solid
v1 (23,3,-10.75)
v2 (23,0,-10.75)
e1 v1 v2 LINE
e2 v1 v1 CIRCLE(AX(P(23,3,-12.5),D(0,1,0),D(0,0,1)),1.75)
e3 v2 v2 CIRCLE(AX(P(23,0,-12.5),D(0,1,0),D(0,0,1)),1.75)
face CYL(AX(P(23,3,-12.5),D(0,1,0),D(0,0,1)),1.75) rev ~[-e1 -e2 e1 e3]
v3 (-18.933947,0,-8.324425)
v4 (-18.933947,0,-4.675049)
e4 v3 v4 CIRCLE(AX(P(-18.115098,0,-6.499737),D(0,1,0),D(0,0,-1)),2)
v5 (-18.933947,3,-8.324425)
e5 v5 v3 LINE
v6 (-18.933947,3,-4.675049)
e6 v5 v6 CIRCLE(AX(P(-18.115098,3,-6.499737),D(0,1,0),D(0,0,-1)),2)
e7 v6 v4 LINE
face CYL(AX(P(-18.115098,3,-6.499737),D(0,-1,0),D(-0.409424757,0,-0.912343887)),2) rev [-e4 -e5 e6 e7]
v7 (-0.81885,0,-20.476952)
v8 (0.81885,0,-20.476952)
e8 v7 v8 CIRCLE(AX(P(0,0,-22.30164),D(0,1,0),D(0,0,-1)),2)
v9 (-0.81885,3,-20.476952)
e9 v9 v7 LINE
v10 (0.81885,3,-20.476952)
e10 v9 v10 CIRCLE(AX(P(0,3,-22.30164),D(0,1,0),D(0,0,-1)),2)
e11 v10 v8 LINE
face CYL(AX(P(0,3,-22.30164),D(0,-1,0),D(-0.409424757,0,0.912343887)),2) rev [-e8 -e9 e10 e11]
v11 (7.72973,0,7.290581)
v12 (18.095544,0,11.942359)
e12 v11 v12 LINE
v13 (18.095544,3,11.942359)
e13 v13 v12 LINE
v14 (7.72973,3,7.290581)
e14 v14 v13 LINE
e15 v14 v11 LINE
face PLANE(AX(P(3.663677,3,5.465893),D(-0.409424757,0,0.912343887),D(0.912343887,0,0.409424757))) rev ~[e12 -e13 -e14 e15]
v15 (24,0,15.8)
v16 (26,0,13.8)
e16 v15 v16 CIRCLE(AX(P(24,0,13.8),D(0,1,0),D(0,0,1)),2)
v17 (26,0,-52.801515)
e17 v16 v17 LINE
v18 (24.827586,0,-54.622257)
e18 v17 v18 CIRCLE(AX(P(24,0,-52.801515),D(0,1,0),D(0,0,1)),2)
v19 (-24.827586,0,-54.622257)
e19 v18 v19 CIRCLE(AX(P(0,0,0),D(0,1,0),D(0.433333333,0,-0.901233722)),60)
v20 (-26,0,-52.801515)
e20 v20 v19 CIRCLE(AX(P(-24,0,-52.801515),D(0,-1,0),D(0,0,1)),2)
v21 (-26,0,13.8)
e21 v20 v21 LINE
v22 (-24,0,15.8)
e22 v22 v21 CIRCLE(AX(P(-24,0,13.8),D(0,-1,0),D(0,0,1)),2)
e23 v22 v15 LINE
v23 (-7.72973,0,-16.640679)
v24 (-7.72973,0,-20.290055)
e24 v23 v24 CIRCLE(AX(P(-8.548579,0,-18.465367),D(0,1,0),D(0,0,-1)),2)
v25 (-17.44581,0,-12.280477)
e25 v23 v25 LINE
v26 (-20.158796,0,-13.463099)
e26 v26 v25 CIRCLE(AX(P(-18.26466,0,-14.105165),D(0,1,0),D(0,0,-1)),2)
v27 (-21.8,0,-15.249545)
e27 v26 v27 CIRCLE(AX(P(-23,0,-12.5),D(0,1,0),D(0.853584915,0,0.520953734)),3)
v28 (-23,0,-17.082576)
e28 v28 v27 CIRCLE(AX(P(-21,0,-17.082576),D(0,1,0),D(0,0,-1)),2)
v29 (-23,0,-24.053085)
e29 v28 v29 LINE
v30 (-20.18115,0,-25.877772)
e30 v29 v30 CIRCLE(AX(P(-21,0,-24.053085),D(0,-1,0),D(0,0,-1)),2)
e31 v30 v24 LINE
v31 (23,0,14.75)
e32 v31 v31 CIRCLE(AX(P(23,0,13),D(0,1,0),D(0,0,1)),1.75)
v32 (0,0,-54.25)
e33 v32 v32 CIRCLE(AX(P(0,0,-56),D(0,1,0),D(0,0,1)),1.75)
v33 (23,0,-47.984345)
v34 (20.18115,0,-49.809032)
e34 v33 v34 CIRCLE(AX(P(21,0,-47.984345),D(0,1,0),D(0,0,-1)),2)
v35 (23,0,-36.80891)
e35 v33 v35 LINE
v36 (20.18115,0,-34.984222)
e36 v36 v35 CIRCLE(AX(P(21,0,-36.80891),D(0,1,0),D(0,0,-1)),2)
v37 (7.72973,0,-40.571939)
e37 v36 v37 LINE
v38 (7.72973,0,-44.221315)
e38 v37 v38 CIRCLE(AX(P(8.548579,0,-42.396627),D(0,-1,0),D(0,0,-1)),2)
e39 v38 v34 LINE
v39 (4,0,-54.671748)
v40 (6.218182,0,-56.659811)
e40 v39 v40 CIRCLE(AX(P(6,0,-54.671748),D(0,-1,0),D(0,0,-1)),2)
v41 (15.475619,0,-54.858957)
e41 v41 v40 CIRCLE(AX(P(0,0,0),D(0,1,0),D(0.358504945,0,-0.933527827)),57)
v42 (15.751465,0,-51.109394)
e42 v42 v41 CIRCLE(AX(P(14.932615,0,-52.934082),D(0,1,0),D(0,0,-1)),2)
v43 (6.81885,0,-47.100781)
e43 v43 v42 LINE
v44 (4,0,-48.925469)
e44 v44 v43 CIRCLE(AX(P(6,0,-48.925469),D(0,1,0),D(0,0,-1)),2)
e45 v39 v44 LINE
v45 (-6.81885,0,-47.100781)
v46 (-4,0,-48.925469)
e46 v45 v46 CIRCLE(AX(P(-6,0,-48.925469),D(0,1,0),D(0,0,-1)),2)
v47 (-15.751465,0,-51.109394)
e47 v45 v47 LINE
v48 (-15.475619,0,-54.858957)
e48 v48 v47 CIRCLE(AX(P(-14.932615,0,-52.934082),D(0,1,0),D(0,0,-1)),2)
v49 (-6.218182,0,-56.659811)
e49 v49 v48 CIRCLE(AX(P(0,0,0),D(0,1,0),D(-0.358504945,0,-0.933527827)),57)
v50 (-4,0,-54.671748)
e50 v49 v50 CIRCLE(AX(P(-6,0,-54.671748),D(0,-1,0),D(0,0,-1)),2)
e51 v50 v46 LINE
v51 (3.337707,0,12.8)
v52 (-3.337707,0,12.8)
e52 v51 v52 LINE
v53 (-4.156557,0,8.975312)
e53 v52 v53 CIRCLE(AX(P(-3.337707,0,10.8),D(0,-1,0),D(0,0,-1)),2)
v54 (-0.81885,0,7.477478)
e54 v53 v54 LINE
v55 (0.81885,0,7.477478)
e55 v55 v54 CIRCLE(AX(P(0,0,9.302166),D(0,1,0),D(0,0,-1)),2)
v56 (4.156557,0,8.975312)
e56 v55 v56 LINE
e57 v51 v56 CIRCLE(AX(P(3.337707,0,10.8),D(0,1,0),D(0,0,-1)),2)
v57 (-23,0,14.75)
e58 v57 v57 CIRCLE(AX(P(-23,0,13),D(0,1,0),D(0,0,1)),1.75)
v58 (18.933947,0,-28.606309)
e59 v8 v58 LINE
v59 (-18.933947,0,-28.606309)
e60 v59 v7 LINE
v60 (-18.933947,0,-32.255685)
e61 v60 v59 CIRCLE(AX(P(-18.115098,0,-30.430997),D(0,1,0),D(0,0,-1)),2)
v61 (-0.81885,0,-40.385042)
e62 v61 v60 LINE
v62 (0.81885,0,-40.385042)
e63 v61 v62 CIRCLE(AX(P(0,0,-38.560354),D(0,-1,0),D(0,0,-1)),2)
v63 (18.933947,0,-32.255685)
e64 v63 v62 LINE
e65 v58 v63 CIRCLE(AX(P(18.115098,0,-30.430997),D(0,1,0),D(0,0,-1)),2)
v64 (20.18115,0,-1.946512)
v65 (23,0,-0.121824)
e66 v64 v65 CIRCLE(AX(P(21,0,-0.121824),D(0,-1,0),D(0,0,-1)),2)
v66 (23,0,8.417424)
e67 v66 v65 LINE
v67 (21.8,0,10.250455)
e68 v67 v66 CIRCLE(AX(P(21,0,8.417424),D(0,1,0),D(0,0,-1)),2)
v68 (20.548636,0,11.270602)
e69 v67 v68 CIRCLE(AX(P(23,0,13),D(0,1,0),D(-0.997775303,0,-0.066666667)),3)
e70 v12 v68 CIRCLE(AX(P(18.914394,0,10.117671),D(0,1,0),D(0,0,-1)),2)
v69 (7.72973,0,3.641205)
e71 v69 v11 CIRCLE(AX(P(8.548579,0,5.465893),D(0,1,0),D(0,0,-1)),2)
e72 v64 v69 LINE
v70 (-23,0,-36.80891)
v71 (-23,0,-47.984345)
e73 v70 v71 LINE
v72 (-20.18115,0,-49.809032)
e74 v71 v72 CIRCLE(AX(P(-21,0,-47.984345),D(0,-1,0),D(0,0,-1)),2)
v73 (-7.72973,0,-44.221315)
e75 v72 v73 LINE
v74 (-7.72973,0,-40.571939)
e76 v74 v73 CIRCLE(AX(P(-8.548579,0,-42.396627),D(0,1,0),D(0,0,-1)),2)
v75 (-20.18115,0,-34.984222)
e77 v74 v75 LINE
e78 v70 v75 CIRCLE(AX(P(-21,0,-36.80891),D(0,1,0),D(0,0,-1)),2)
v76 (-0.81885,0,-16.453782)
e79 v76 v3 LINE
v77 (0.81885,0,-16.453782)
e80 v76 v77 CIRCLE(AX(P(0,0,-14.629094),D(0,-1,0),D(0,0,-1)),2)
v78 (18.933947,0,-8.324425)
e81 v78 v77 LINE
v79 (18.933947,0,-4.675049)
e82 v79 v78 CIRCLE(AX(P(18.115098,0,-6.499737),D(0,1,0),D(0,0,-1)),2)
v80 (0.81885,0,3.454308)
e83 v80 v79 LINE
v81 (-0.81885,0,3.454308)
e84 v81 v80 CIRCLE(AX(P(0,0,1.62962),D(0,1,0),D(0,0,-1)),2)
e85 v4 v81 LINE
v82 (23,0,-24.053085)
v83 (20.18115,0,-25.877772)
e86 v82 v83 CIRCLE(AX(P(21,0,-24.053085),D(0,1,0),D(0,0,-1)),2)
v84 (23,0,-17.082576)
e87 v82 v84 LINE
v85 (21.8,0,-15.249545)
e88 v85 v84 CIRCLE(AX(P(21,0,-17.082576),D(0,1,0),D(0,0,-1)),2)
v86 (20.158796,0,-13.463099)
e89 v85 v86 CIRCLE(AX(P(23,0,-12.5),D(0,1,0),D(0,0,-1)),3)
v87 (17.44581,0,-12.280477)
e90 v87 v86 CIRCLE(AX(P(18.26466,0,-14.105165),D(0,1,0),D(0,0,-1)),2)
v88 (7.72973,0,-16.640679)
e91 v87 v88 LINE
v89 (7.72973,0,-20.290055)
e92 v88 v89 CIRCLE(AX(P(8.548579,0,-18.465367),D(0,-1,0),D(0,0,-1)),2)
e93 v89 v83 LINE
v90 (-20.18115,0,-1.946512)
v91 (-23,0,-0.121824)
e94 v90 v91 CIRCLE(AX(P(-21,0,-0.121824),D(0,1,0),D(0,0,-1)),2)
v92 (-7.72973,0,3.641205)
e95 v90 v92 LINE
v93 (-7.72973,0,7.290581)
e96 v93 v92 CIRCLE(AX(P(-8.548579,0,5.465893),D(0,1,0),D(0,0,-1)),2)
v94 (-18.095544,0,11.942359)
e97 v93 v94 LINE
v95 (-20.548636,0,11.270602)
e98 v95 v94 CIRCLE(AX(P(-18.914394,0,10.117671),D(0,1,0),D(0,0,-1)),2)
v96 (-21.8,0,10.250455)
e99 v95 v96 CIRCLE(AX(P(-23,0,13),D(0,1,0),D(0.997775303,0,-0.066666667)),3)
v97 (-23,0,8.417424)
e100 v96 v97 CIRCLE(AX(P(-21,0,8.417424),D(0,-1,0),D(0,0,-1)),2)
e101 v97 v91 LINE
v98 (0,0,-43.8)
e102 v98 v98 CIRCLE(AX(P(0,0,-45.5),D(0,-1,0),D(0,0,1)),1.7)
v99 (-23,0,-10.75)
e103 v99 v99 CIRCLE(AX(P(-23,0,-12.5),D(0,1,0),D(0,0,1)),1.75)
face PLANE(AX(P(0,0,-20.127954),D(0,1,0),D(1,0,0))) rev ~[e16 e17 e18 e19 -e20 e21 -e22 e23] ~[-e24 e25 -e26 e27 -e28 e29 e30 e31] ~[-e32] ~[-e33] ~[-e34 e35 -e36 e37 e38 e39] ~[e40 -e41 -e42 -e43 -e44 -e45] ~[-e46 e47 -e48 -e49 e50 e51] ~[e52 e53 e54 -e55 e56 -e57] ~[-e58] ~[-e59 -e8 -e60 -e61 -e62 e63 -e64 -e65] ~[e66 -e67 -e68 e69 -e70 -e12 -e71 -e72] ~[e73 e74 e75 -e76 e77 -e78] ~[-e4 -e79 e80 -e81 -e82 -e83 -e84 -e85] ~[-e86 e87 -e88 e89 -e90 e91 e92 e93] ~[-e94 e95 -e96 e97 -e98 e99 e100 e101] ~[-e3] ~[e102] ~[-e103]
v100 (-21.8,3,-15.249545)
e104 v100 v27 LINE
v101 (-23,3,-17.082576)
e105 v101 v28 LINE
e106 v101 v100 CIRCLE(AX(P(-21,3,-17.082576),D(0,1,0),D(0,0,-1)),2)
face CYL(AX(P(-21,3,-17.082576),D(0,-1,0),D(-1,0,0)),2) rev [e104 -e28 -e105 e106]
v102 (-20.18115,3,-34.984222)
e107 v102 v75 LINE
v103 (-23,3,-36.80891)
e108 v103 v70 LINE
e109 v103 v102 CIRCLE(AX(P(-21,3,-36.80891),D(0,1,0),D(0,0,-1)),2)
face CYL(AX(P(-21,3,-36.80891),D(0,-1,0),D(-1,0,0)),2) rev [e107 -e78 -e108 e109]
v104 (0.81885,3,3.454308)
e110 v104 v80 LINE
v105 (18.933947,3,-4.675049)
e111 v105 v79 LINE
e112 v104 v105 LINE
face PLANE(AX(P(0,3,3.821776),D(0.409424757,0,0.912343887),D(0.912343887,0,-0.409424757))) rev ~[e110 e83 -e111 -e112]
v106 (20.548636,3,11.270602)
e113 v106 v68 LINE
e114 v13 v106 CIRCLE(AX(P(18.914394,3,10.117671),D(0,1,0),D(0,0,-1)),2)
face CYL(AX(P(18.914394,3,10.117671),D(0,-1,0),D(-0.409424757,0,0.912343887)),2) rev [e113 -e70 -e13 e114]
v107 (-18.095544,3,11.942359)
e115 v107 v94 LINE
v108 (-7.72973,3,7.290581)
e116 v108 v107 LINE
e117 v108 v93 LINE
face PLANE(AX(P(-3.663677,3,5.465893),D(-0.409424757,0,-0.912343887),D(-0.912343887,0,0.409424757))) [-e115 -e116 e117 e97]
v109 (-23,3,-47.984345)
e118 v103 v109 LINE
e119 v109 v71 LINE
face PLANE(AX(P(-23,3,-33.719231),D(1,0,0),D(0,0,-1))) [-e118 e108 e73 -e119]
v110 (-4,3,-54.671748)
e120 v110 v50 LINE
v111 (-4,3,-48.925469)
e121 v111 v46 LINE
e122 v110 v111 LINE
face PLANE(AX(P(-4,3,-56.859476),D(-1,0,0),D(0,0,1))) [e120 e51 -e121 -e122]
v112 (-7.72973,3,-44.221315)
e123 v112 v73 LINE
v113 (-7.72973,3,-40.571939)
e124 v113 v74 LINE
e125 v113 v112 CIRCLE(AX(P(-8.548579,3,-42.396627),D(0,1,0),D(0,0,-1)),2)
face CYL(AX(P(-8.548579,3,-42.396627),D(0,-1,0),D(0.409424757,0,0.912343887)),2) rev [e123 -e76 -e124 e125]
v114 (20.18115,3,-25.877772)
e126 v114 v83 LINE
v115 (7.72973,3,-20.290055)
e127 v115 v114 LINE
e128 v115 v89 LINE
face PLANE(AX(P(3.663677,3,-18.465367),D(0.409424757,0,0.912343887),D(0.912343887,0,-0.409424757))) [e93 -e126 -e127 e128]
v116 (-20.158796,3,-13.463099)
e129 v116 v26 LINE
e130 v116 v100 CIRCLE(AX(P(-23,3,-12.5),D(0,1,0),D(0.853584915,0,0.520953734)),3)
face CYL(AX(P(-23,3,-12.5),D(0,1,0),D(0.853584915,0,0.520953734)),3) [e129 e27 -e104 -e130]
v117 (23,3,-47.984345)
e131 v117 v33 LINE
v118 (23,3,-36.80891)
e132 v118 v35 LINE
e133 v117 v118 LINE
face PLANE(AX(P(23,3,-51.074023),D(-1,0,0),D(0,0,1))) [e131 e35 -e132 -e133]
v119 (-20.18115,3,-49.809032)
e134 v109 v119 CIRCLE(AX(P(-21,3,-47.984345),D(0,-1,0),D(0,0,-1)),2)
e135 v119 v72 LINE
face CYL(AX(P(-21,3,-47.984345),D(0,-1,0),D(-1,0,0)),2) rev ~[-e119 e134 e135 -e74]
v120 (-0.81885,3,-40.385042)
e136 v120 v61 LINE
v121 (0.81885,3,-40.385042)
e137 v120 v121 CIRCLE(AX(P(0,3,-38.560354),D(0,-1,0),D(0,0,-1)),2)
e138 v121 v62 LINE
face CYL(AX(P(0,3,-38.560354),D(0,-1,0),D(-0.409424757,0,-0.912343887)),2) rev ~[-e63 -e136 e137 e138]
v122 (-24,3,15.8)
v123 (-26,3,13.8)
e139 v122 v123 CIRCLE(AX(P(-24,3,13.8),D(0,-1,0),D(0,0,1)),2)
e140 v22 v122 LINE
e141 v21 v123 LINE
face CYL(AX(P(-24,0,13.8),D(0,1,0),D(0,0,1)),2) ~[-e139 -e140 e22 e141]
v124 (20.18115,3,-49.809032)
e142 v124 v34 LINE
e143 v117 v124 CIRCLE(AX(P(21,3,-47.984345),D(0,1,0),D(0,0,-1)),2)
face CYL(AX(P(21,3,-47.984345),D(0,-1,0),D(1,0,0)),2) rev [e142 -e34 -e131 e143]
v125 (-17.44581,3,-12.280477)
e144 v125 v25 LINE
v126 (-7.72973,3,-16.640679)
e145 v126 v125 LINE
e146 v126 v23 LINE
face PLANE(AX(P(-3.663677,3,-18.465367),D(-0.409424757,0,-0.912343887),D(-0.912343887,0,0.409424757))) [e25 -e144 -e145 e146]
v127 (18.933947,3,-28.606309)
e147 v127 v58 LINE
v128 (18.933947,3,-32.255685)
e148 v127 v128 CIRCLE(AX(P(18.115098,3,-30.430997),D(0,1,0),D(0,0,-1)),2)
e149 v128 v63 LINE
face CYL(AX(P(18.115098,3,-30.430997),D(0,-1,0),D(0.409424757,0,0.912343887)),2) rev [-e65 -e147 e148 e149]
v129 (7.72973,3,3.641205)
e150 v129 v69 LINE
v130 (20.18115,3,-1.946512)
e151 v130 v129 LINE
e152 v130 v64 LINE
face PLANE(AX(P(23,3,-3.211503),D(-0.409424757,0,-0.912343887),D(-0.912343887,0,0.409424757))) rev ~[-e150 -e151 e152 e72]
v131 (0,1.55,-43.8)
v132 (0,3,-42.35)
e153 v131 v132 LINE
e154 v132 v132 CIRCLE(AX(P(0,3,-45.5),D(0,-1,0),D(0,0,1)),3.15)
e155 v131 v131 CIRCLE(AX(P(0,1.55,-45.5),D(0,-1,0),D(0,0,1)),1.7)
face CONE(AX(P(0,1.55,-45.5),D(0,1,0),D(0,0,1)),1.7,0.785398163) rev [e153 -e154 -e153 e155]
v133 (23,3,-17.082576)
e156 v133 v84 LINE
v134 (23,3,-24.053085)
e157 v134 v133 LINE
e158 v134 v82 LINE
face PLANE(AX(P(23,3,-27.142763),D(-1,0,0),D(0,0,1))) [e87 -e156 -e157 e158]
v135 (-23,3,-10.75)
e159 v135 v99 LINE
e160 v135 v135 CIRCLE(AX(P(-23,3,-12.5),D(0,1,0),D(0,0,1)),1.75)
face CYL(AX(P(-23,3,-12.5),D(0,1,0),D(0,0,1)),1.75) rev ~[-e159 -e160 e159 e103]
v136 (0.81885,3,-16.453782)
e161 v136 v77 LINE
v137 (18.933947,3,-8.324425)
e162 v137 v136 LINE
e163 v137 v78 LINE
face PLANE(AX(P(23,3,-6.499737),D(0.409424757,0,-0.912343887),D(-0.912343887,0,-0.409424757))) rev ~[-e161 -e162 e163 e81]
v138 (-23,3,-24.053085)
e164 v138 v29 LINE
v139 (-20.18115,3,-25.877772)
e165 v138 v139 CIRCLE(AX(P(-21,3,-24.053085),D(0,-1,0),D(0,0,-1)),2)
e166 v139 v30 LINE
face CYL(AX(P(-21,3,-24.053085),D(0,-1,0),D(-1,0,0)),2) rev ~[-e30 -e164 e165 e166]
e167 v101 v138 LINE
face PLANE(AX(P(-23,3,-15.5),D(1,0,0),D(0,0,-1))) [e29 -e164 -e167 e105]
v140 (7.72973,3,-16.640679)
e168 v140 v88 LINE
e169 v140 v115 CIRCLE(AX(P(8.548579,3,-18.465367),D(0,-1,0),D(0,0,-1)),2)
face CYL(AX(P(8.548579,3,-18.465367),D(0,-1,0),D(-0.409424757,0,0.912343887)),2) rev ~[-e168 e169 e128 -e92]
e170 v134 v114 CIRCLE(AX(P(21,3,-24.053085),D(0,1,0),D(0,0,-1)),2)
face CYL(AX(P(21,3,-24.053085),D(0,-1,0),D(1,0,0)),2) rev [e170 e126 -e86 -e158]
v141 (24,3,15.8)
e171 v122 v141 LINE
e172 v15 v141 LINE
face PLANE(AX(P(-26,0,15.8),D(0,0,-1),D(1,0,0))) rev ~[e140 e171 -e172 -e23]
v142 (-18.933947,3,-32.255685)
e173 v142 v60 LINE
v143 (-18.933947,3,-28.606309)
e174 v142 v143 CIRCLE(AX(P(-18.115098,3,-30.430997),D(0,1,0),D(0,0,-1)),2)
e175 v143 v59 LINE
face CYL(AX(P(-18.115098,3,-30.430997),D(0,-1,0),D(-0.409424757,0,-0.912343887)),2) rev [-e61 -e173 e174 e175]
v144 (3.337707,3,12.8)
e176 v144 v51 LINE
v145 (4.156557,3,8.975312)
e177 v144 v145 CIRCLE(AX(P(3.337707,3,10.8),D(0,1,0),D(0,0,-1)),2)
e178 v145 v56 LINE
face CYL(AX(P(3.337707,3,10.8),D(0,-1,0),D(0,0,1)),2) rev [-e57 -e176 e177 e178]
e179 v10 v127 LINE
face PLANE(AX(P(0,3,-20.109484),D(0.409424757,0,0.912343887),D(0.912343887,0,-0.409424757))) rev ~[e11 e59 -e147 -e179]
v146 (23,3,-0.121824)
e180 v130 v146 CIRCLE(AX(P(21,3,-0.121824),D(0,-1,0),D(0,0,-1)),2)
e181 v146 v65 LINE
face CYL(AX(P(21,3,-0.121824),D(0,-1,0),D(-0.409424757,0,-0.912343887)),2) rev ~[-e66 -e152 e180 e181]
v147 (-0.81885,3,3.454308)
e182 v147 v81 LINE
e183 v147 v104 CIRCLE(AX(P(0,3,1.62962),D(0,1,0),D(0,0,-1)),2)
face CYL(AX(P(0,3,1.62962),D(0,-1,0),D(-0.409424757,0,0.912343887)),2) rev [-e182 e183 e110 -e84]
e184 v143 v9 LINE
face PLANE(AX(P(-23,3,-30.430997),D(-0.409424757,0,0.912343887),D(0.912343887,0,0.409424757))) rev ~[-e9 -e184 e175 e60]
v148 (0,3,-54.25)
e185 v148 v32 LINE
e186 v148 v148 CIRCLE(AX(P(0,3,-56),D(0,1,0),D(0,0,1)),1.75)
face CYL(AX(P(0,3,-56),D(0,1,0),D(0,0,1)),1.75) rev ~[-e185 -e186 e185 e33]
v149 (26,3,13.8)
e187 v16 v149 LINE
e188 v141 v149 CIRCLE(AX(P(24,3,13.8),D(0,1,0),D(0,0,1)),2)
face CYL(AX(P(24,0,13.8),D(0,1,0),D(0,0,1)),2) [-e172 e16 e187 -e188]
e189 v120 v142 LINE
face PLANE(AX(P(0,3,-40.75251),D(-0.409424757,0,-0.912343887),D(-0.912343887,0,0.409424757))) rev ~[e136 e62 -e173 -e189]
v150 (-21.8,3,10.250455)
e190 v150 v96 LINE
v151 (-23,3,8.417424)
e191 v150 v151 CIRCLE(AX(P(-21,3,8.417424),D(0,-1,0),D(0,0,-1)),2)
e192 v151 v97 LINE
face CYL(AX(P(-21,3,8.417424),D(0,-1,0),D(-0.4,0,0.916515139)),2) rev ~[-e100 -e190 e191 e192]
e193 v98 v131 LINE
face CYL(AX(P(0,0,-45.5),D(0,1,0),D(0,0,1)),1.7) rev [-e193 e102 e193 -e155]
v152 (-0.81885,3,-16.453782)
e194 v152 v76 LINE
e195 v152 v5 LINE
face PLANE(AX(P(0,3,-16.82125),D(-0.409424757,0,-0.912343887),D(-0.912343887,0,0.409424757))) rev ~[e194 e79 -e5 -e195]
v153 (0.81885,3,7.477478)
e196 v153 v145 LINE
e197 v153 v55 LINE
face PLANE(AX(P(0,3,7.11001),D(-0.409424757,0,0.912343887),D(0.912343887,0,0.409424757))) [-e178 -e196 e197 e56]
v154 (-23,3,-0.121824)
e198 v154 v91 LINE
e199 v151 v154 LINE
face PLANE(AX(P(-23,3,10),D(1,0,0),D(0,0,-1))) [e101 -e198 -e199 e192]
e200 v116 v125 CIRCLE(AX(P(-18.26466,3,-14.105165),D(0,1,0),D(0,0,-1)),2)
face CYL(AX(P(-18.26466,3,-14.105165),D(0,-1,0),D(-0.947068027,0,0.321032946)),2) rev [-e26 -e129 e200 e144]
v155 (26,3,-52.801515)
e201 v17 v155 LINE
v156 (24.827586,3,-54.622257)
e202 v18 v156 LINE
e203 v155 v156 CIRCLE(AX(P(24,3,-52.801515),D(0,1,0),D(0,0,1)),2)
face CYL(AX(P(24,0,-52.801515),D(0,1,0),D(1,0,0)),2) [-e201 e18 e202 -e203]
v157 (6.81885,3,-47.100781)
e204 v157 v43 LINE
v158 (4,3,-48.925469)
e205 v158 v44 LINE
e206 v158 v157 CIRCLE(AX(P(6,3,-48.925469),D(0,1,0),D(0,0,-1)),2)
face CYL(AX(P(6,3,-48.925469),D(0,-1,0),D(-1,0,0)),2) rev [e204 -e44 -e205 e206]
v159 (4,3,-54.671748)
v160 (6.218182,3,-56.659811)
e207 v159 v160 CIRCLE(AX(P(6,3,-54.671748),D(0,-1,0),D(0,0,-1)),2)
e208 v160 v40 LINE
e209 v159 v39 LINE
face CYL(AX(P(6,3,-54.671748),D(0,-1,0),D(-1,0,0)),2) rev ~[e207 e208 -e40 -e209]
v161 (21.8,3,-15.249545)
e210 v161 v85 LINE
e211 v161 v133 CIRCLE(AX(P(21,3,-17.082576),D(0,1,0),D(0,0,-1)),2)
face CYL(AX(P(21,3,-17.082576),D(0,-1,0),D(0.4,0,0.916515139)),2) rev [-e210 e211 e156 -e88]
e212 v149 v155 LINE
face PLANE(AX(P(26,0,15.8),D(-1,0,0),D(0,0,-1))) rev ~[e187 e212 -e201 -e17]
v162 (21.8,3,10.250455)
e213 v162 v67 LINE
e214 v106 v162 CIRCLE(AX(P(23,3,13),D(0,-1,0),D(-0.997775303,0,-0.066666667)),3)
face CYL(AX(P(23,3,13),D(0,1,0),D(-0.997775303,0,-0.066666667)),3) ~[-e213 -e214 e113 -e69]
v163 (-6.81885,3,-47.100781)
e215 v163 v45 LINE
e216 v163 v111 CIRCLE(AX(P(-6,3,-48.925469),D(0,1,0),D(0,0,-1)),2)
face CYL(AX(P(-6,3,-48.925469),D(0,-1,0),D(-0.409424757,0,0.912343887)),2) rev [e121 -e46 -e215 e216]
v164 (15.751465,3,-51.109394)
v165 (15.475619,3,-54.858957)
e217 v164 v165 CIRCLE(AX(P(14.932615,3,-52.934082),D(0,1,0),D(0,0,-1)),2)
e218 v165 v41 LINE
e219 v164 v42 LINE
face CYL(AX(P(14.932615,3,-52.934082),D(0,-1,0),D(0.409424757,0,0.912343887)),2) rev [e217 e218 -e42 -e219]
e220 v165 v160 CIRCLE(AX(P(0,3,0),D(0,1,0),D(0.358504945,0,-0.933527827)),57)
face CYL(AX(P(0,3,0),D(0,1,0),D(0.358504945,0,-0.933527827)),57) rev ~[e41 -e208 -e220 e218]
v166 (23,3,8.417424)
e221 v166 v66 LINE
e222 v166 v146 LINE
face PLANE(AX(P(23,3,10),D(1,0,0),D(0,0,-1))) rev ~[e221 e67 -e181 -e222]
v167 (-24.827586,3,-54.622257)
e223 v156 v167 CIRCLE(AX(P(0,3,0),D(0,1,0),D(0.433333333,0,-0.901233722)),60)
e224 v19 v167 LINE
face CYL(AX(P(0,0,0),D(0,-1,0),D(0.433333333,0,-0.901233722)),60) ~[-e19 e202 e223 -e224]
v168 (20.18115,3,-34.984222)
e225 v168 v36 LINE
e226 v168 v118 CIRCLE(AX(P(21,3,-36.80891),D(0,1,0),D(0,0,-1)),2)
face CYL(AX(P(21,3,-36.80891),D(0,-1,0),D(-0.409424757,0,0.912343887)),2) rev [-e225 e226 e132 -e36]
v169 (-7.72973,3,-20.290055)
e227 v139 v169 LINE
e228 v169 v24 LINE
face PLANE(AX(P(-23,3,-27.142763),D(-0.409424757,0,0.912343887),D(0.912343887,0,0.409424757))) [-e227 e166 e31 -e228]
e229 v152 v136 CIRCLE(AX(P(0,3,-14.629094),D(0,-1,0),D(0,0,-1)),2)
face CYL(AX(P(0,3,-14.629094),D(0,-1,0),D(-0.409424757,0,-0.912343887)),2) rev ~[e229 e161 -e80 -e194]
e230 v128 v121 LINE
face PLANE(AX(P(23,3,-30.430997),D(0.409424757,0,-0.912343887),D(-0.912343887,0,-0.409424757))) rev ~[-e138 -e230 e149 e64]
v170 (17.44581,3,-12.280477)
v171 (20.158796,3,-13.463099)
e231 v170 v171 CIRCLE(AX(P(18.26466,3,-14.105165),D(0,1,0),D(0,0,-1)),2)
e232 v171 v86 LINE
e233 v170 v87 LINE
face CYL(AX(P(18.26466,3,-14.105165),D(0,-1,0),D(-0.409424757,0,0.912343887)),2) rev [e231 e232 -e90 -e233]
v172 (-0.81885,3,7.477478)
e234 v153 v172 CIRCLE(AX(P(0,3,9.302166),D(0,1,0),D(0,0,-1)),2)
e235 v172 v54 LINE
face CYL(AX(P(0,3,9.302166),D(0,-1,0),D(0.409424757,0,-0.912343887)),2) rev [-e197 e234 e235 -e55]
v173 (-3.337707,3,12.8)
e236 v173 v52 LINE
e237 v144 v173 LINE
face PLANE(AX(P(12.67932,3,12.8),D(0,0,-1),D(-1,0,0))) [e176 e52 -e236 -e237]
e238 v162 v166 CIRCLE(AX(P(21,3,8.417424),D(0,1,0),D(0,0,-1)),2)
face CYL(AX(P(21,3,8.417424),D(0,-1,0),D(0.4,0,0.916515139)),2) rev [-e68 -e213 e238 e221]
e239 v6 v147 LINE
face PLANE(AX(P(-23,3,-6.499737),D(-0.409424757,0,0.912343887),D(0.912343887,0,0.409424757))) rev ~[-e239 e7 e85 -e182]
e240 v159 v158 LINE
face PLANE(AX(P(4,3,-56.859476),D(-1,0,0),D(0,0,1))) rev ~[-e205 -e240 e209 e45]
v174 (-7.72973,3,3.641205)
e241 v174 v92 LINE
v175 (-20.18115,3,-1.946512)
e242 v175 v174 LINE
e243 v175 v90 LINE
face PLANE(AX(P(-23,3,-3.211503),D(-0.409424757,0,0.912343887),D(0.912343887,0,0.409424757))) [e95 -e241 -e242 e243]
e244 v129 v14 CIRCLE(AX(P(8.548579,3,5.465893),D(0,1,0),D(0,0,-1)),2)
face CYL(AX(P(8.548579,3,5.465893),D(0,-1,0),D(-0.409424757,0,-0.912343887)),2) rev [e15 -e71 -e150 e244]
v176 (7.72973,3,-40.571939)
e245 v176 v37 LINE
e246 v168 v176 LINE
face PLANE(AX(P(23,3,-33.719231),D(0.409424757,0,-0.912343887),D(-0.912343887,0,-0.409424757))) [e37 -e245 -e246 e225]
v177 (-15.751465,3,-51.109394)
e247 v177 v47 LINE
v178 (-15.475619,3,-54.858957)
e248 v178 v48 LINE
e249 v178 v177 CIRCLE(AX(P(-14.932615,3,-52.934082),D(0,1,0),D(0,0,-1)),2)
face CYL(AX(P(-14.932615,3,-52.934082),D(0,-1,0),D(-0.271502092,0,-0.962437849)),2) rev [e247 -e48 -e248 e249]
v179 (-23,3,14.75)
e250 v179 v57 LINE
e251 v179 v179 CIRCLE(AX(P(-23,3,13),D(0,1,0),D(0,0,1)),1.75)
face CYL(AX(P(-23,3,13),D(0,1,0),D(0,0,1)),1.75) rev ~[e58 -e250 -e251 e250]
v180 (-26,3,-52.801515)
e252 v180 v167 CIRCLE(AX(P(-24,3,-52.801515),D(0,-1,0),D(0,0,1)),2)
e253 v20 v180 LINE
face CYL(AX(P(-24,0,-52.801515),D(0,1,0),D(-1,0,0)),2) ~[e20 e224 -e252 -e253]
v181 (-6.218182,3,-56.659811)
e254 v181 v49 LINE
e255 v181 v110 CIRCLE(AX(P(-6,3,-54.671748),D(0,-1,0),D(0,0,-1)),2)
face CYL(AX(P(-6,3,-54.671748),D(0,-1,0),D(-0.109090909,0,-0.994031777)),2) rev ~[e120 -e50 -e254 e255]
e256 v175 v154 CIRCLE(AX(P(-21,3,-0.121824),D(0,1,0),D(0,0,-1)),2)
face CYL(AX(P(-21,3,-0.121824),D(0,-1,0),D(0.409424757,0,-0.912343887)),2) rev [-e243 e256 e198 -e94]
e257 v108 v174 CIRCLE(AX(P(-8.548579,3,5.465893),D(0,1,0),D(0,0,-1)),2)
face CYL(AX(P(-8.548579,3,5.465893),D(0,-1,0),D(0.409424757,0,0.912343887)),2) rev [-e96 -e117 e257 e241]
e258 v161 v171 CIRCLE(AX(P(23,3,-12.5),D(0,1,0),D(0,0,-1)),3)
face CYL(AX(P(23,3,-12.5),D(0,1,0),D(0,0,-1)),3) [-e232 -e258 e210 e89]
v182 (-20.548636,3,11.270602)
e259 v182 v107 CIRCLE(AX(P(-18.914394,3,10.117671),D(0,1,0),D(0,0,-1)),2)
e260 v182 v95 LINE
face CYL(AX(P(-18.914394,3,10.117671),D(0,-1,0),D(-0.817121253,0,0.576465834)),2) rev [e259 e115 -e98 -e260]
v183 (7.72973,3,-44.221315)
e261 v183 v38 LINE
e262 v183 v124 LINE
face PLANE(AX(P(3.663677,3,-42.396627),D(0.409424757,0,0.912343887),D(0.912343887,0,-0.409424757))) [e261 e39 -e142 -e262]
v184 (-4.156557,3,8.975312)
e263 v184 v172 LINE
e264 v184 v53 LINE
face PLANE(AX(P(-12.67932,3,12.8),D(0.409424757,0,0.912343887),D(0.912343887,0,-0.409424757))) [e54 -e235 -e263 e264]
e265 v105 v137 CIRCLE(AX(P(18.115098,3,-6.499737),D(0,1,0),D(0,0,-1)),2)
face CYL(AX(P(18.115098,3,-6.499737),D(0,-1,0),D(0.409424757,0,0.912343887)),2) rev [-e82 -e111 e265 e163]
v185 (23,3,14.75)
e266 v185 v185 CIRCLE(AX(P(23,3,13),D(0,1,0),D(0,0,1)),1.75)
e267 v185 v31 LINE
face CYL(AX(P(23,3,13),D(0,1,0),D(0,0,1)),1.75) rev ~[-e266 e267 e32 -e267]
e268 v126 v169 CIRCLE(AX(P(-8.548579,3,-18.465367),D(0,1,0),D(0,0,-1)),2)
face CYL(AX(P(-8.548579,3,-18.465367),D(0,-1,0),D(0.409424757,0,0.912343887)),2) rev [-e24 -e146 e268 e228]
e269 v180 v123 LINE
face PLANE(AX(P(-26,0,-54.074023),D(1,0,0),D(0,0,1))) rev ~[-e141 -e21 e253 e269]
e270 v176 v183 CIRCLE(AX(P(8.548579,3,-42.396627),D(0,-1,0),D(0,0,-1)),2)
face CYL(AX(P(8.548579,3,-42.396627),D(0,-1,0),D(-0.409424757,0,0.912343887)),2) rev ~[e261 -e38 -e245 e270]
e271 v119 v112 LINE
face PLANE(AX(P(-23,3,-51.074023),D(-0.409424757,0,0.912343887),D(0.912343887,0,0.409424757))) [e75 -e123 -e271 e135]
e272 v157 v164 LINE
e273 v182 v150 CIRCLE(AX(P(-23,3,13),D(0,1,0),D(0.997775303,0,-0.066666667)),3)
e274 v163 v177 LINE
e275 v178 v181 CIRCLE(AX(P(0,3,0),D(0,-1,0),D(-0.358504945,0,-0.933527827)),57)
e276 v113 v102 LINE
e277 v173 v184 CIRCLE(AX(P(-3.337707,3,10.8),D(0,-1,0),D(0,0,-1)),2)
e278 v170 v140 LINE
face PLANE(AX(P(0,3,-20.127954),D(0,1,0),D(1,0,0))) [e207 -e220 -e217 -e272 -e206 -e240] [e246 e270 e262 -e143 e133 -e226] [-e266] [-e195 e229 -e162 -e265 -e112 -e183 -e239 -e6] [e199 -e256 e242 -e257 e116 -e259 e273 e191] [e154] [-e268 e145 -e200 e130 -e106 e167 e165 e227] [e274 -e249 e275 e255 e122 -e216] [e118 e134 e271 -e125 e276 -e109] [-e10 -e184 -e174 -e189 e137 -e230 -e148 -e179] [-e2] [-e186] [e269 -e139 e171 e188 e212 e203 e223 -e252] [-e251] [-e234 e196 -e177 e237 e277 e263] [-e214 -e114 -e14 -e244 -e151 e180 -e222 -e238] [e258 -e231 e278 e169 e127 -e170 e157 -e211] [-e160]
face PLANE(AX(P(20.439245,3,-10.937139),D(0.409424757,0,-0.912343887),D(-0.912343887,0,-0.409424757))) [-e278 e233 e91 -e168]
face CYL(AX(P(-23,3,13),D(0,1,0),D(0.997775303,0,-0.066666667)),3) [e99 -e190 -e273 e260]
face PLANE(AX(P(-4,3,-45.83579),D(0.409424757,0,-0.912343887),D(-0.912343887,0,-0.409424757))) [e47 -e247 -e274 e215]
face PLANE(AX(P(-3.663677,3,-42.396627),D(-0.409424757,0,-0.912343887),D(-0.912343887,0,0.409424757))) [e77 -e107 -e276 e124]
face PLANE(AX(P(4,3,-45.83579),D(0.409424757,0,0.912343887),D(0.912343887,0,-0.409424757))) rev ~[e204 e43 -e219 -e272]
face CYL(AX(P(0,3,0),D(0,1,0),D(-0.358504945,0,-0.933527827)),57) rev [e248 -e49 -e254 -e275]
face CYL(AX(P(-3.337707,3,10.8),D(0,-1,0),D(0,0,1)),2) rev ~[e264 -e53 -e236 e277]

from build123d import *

# Parameters (mm, degrees)
BOSS_EXTRUDE1_DEPTH = 3
SKETCH2_R           = 1.75
CUT_EXTRUDE1_DEPTH  = 66.459911396
SKETCH3_R           = 1.75
CUT_EXTRUDE2_DEPTH  = 66.459911396
CUT_EXTRUDE3_DEPTH  = 66.459911396
FILLET1_R           = 2


with BuildPart() as part:
    # Sketch1 → Boss-Extrude1 (new body)
    with BuildSketch(Plane(origin=(0, 0, 0), x_dir=(1, 0, 0), z_dir=(0, 1, 0))):
        with BuildLine():
            Line((-26, -15.8), (26, -15.8))
            Line((26, -15.8), (26, 54.074023338))
            ThreePointArc((26, 54.074023338), (0, 60), (-26, 54.074023338))
            Line((-26, 54.074023338), (-26, -15.8))
        make_face()
    extrude(amount=BOSS_EXTRUDE1_DEPTH)

    # Sketch2 → Cut-Extrude1 (cut, through all)
    with BuildSketch(Plane(origin=(0, 3, 0), x_dir=(1, 0, 0), z_dir=(0, 1, 0))):
        with Locations(Location((-23, -13, 0), (0, 0, 270))):
            Circle(SKETCH2_R)
        with Locations(Location((-23, 12.5, 0), (0, 0, 270))):
            Circle(SKETCH2_R)
        with Locations(Location((23, -13, 0), (0, 0, 270))):
            Circle(SKETCH2_R)
        with Locations(Location((23, 12.5, 0), (0, 0, 270))):
            Circle(SKETCH2_R)
    extrude(amount=-CUT_EXTRUDE1_DEPTH, mode=Mode.SUBTRACT)

    # Sketch3 → Cut-Extrude2 (cut, through all)
    with BuildSketch(Plane(origin=(0, 3, 0), x_dir=(1, 0, 0), z_dir=(0, 1, 0))):
        with Locations(Location((0, 56, 0), (0, 0, 270))):
            Circle(SKETCH3_R)
    extrude(amount=-CUT_EXTRUDE2_DEPTH, mode=Mode.SUBTRACT)

    # Sketch4 → Cut-Extrude3 (cut, through all)
    with BuildSketch(Plane(origin=(0, 3, 0), x_dir=(1, 0, 0), z_dir=(0, 1, 0))):
        with BuildLine():
            Line((-4, 56.859475903), (-4, 45.835789761))
            Line((-4, 45.835789761), (-20.43478188, 53.211086152))
            ThreePointArc((-20.43478188, 53.211086152), (-12.352826734, 55.645374216), (-4, 56.859475903))
        make_face()
        with BuildLine():
            Line((4, 56.859475903), (4, 45.835789761))
            Line((4, 45.835789761), (20.43478188, 53.211086152))
            ThreePointArc((20.43478188, 53.211086152), (12.352826734, 55.645374216), (4, 56.859475903))
        make_face()
        Polygon((-23, 51.074023338), (-3.66367684, 42.396627103), (-23, 33.719230867), align=None)
        Polygon((3.66367684, 42.396627103), (23, 51.074023338), (23, 33.719230867), align=None)
        Polygon((0, 40.752510206), (-23, 30.430997074), (0, 20.109483942), (23, 30.430997074), align=None)
        with BuildLine():
            Line((-23, 27.142763282), (-3.66367684, 18.465367046))
            Line((-3.66367684, 18.465367046), (-20.439245255, 10.937138798))
            ThreePointArc((-20.439245255, 10.937138798), (-20.383840257, 13.968233019), (-23, 15.5))
            Line((-23, 15.5), (-23, 27.142763282))
        make_face()
        with BuildLine():
            Line((3.66367684, 18.465367046), (23, 27.142763282))
            Line((23, 27.142763282), (23, 15.5))
            ThreePointArc((23, 15.5), (20.383840257, 13.968233019), (20.439245255, 10.937138798))
            Line((20.439245255, 10.937138798), (3.66367684, 18.465367046))
        make_face()
        Polygon((0, 16.821250149), (-23, 6.499737017), (0, -3.821776115), (23, 6.499737017), align=None)
        with BuildLine():
            Line((23, 3.211503225), (3.66367684, -5.465893011))
            Line((3.66367684, -5.465893011), (20.006674091, -12.8))
            ThreePointArc((20.006674091, -12.8), (20.950609847, -10.80910977), (23, -10))
            Line((23, -10), (23, 3.211503225))
        make_face()
        with BuildLine():
            Line((-23, -10), (-23, 3.211503225))
            Line((-23, 3.211503225), (-3.66367684, -5.465893011))
            Line((-3.66367684, -5.465893011), (-20.006674091, -12.8))
            ThreePointArc((-20.006674091, -12.8), (-20.950609847, -10.80910977), (-23, -10))
        make_face()
        Polygon((-12.679320411, -12.8), (0, -7.110009907), (12.679320411, -12.8), align=None)
    extrude(amount=-CUT_EXTRUDE3_DEPTH, mode=Mode.SUBTRACT)

    # Fillet1
    fillet1_edges = [part.edges().sort_by_distance(p)[0] for p in [
        (20.439245255, 1.5, -10.937138798),
        (3.66367684, 1.5, -18.465367046),
        (23, 1.5, -27.142763282),
        (23, 1.5, -15.5),
        (0, 1.5, -16.821250149),
        (23, 1.5, -6.499737017),
        (0, 1.5, 3.821776115),
        (-23, 1.5, -6.499737017),
        (23, 1.5, -3.211503225),
        (23, 1.5, 10),
        (20.006674091, 1.5, 12.8),
        (3.66367684, 1.5, 5.465893011),
        (-20.006674091, 1.5, 12.8),
        (-23, 1.5, 10),
        (-23, 1.5, -3.211503225),
        (-3.66367684, 1.5, 5.465893011),
        (12.679320411, 1.5, 12.8),
        (-12.679320411, 1.5, 12.8),
        (0, 1.5, 7.110009907),
        (4, 1.5, -56.859475903),
        (20.43478188, 1.5, -53.211086152),
        (4, 1.5, -45.835789761),
        (-20.43478188, 1.5, -53.211086152),
        (-4, 1.5, -56.859475903),
        (-4, 1.5, -45.835789761),
        (-23, 1.5, -33.719230867),
        (-23, 1.5, -51.074023338),
        (-3.66367684, 1.5, -42.396627103),
        (23, 1.5, -33.719230867),
        (3.66367684, 1.5, -42.396627103),
        (23, 1.5, -51.074023338),
        (-26, 1.5, -54.074023338),
        (26, 1.5, -54.074023338),
        (26, 1.5, 15.8),
        (-26, 1.5, 15.8),
        (0, 1.5, -40.752510206),
        (23, 1.5, -30.430997074),
        (0, 1.5, -20.109483942),
        (-23, 1.5, -30.430997074),
        (-23, 1.5, -15.5),
        (-23, 1.5, -27.142763282),
        (-3.66367684, 1.5, -18.465367046),
        (-20.439245255, 1.5, -10.937138798),
    ]]
    fillet(fillet1_edges, radius=FILLET1_R)

    # Sketch5 → CSK for M3 Countersunk Flat Head Screw1 (revolve, cut)
    with BuildSketch(Plane(origin=(0, 3, -45.5), x_dir=(0, 0, 1), z_dir=(1, 0, 0))):
        Polygon((0, 0), (0, 3), (1.7, 3), (1.7, 1.45), (3.15, 0), align=None)
    revolve(axis=Axis((0, 9.35, -45.5), (0, -1, 0)), mode=Mode.SUBTRACT)


solid = part.part
